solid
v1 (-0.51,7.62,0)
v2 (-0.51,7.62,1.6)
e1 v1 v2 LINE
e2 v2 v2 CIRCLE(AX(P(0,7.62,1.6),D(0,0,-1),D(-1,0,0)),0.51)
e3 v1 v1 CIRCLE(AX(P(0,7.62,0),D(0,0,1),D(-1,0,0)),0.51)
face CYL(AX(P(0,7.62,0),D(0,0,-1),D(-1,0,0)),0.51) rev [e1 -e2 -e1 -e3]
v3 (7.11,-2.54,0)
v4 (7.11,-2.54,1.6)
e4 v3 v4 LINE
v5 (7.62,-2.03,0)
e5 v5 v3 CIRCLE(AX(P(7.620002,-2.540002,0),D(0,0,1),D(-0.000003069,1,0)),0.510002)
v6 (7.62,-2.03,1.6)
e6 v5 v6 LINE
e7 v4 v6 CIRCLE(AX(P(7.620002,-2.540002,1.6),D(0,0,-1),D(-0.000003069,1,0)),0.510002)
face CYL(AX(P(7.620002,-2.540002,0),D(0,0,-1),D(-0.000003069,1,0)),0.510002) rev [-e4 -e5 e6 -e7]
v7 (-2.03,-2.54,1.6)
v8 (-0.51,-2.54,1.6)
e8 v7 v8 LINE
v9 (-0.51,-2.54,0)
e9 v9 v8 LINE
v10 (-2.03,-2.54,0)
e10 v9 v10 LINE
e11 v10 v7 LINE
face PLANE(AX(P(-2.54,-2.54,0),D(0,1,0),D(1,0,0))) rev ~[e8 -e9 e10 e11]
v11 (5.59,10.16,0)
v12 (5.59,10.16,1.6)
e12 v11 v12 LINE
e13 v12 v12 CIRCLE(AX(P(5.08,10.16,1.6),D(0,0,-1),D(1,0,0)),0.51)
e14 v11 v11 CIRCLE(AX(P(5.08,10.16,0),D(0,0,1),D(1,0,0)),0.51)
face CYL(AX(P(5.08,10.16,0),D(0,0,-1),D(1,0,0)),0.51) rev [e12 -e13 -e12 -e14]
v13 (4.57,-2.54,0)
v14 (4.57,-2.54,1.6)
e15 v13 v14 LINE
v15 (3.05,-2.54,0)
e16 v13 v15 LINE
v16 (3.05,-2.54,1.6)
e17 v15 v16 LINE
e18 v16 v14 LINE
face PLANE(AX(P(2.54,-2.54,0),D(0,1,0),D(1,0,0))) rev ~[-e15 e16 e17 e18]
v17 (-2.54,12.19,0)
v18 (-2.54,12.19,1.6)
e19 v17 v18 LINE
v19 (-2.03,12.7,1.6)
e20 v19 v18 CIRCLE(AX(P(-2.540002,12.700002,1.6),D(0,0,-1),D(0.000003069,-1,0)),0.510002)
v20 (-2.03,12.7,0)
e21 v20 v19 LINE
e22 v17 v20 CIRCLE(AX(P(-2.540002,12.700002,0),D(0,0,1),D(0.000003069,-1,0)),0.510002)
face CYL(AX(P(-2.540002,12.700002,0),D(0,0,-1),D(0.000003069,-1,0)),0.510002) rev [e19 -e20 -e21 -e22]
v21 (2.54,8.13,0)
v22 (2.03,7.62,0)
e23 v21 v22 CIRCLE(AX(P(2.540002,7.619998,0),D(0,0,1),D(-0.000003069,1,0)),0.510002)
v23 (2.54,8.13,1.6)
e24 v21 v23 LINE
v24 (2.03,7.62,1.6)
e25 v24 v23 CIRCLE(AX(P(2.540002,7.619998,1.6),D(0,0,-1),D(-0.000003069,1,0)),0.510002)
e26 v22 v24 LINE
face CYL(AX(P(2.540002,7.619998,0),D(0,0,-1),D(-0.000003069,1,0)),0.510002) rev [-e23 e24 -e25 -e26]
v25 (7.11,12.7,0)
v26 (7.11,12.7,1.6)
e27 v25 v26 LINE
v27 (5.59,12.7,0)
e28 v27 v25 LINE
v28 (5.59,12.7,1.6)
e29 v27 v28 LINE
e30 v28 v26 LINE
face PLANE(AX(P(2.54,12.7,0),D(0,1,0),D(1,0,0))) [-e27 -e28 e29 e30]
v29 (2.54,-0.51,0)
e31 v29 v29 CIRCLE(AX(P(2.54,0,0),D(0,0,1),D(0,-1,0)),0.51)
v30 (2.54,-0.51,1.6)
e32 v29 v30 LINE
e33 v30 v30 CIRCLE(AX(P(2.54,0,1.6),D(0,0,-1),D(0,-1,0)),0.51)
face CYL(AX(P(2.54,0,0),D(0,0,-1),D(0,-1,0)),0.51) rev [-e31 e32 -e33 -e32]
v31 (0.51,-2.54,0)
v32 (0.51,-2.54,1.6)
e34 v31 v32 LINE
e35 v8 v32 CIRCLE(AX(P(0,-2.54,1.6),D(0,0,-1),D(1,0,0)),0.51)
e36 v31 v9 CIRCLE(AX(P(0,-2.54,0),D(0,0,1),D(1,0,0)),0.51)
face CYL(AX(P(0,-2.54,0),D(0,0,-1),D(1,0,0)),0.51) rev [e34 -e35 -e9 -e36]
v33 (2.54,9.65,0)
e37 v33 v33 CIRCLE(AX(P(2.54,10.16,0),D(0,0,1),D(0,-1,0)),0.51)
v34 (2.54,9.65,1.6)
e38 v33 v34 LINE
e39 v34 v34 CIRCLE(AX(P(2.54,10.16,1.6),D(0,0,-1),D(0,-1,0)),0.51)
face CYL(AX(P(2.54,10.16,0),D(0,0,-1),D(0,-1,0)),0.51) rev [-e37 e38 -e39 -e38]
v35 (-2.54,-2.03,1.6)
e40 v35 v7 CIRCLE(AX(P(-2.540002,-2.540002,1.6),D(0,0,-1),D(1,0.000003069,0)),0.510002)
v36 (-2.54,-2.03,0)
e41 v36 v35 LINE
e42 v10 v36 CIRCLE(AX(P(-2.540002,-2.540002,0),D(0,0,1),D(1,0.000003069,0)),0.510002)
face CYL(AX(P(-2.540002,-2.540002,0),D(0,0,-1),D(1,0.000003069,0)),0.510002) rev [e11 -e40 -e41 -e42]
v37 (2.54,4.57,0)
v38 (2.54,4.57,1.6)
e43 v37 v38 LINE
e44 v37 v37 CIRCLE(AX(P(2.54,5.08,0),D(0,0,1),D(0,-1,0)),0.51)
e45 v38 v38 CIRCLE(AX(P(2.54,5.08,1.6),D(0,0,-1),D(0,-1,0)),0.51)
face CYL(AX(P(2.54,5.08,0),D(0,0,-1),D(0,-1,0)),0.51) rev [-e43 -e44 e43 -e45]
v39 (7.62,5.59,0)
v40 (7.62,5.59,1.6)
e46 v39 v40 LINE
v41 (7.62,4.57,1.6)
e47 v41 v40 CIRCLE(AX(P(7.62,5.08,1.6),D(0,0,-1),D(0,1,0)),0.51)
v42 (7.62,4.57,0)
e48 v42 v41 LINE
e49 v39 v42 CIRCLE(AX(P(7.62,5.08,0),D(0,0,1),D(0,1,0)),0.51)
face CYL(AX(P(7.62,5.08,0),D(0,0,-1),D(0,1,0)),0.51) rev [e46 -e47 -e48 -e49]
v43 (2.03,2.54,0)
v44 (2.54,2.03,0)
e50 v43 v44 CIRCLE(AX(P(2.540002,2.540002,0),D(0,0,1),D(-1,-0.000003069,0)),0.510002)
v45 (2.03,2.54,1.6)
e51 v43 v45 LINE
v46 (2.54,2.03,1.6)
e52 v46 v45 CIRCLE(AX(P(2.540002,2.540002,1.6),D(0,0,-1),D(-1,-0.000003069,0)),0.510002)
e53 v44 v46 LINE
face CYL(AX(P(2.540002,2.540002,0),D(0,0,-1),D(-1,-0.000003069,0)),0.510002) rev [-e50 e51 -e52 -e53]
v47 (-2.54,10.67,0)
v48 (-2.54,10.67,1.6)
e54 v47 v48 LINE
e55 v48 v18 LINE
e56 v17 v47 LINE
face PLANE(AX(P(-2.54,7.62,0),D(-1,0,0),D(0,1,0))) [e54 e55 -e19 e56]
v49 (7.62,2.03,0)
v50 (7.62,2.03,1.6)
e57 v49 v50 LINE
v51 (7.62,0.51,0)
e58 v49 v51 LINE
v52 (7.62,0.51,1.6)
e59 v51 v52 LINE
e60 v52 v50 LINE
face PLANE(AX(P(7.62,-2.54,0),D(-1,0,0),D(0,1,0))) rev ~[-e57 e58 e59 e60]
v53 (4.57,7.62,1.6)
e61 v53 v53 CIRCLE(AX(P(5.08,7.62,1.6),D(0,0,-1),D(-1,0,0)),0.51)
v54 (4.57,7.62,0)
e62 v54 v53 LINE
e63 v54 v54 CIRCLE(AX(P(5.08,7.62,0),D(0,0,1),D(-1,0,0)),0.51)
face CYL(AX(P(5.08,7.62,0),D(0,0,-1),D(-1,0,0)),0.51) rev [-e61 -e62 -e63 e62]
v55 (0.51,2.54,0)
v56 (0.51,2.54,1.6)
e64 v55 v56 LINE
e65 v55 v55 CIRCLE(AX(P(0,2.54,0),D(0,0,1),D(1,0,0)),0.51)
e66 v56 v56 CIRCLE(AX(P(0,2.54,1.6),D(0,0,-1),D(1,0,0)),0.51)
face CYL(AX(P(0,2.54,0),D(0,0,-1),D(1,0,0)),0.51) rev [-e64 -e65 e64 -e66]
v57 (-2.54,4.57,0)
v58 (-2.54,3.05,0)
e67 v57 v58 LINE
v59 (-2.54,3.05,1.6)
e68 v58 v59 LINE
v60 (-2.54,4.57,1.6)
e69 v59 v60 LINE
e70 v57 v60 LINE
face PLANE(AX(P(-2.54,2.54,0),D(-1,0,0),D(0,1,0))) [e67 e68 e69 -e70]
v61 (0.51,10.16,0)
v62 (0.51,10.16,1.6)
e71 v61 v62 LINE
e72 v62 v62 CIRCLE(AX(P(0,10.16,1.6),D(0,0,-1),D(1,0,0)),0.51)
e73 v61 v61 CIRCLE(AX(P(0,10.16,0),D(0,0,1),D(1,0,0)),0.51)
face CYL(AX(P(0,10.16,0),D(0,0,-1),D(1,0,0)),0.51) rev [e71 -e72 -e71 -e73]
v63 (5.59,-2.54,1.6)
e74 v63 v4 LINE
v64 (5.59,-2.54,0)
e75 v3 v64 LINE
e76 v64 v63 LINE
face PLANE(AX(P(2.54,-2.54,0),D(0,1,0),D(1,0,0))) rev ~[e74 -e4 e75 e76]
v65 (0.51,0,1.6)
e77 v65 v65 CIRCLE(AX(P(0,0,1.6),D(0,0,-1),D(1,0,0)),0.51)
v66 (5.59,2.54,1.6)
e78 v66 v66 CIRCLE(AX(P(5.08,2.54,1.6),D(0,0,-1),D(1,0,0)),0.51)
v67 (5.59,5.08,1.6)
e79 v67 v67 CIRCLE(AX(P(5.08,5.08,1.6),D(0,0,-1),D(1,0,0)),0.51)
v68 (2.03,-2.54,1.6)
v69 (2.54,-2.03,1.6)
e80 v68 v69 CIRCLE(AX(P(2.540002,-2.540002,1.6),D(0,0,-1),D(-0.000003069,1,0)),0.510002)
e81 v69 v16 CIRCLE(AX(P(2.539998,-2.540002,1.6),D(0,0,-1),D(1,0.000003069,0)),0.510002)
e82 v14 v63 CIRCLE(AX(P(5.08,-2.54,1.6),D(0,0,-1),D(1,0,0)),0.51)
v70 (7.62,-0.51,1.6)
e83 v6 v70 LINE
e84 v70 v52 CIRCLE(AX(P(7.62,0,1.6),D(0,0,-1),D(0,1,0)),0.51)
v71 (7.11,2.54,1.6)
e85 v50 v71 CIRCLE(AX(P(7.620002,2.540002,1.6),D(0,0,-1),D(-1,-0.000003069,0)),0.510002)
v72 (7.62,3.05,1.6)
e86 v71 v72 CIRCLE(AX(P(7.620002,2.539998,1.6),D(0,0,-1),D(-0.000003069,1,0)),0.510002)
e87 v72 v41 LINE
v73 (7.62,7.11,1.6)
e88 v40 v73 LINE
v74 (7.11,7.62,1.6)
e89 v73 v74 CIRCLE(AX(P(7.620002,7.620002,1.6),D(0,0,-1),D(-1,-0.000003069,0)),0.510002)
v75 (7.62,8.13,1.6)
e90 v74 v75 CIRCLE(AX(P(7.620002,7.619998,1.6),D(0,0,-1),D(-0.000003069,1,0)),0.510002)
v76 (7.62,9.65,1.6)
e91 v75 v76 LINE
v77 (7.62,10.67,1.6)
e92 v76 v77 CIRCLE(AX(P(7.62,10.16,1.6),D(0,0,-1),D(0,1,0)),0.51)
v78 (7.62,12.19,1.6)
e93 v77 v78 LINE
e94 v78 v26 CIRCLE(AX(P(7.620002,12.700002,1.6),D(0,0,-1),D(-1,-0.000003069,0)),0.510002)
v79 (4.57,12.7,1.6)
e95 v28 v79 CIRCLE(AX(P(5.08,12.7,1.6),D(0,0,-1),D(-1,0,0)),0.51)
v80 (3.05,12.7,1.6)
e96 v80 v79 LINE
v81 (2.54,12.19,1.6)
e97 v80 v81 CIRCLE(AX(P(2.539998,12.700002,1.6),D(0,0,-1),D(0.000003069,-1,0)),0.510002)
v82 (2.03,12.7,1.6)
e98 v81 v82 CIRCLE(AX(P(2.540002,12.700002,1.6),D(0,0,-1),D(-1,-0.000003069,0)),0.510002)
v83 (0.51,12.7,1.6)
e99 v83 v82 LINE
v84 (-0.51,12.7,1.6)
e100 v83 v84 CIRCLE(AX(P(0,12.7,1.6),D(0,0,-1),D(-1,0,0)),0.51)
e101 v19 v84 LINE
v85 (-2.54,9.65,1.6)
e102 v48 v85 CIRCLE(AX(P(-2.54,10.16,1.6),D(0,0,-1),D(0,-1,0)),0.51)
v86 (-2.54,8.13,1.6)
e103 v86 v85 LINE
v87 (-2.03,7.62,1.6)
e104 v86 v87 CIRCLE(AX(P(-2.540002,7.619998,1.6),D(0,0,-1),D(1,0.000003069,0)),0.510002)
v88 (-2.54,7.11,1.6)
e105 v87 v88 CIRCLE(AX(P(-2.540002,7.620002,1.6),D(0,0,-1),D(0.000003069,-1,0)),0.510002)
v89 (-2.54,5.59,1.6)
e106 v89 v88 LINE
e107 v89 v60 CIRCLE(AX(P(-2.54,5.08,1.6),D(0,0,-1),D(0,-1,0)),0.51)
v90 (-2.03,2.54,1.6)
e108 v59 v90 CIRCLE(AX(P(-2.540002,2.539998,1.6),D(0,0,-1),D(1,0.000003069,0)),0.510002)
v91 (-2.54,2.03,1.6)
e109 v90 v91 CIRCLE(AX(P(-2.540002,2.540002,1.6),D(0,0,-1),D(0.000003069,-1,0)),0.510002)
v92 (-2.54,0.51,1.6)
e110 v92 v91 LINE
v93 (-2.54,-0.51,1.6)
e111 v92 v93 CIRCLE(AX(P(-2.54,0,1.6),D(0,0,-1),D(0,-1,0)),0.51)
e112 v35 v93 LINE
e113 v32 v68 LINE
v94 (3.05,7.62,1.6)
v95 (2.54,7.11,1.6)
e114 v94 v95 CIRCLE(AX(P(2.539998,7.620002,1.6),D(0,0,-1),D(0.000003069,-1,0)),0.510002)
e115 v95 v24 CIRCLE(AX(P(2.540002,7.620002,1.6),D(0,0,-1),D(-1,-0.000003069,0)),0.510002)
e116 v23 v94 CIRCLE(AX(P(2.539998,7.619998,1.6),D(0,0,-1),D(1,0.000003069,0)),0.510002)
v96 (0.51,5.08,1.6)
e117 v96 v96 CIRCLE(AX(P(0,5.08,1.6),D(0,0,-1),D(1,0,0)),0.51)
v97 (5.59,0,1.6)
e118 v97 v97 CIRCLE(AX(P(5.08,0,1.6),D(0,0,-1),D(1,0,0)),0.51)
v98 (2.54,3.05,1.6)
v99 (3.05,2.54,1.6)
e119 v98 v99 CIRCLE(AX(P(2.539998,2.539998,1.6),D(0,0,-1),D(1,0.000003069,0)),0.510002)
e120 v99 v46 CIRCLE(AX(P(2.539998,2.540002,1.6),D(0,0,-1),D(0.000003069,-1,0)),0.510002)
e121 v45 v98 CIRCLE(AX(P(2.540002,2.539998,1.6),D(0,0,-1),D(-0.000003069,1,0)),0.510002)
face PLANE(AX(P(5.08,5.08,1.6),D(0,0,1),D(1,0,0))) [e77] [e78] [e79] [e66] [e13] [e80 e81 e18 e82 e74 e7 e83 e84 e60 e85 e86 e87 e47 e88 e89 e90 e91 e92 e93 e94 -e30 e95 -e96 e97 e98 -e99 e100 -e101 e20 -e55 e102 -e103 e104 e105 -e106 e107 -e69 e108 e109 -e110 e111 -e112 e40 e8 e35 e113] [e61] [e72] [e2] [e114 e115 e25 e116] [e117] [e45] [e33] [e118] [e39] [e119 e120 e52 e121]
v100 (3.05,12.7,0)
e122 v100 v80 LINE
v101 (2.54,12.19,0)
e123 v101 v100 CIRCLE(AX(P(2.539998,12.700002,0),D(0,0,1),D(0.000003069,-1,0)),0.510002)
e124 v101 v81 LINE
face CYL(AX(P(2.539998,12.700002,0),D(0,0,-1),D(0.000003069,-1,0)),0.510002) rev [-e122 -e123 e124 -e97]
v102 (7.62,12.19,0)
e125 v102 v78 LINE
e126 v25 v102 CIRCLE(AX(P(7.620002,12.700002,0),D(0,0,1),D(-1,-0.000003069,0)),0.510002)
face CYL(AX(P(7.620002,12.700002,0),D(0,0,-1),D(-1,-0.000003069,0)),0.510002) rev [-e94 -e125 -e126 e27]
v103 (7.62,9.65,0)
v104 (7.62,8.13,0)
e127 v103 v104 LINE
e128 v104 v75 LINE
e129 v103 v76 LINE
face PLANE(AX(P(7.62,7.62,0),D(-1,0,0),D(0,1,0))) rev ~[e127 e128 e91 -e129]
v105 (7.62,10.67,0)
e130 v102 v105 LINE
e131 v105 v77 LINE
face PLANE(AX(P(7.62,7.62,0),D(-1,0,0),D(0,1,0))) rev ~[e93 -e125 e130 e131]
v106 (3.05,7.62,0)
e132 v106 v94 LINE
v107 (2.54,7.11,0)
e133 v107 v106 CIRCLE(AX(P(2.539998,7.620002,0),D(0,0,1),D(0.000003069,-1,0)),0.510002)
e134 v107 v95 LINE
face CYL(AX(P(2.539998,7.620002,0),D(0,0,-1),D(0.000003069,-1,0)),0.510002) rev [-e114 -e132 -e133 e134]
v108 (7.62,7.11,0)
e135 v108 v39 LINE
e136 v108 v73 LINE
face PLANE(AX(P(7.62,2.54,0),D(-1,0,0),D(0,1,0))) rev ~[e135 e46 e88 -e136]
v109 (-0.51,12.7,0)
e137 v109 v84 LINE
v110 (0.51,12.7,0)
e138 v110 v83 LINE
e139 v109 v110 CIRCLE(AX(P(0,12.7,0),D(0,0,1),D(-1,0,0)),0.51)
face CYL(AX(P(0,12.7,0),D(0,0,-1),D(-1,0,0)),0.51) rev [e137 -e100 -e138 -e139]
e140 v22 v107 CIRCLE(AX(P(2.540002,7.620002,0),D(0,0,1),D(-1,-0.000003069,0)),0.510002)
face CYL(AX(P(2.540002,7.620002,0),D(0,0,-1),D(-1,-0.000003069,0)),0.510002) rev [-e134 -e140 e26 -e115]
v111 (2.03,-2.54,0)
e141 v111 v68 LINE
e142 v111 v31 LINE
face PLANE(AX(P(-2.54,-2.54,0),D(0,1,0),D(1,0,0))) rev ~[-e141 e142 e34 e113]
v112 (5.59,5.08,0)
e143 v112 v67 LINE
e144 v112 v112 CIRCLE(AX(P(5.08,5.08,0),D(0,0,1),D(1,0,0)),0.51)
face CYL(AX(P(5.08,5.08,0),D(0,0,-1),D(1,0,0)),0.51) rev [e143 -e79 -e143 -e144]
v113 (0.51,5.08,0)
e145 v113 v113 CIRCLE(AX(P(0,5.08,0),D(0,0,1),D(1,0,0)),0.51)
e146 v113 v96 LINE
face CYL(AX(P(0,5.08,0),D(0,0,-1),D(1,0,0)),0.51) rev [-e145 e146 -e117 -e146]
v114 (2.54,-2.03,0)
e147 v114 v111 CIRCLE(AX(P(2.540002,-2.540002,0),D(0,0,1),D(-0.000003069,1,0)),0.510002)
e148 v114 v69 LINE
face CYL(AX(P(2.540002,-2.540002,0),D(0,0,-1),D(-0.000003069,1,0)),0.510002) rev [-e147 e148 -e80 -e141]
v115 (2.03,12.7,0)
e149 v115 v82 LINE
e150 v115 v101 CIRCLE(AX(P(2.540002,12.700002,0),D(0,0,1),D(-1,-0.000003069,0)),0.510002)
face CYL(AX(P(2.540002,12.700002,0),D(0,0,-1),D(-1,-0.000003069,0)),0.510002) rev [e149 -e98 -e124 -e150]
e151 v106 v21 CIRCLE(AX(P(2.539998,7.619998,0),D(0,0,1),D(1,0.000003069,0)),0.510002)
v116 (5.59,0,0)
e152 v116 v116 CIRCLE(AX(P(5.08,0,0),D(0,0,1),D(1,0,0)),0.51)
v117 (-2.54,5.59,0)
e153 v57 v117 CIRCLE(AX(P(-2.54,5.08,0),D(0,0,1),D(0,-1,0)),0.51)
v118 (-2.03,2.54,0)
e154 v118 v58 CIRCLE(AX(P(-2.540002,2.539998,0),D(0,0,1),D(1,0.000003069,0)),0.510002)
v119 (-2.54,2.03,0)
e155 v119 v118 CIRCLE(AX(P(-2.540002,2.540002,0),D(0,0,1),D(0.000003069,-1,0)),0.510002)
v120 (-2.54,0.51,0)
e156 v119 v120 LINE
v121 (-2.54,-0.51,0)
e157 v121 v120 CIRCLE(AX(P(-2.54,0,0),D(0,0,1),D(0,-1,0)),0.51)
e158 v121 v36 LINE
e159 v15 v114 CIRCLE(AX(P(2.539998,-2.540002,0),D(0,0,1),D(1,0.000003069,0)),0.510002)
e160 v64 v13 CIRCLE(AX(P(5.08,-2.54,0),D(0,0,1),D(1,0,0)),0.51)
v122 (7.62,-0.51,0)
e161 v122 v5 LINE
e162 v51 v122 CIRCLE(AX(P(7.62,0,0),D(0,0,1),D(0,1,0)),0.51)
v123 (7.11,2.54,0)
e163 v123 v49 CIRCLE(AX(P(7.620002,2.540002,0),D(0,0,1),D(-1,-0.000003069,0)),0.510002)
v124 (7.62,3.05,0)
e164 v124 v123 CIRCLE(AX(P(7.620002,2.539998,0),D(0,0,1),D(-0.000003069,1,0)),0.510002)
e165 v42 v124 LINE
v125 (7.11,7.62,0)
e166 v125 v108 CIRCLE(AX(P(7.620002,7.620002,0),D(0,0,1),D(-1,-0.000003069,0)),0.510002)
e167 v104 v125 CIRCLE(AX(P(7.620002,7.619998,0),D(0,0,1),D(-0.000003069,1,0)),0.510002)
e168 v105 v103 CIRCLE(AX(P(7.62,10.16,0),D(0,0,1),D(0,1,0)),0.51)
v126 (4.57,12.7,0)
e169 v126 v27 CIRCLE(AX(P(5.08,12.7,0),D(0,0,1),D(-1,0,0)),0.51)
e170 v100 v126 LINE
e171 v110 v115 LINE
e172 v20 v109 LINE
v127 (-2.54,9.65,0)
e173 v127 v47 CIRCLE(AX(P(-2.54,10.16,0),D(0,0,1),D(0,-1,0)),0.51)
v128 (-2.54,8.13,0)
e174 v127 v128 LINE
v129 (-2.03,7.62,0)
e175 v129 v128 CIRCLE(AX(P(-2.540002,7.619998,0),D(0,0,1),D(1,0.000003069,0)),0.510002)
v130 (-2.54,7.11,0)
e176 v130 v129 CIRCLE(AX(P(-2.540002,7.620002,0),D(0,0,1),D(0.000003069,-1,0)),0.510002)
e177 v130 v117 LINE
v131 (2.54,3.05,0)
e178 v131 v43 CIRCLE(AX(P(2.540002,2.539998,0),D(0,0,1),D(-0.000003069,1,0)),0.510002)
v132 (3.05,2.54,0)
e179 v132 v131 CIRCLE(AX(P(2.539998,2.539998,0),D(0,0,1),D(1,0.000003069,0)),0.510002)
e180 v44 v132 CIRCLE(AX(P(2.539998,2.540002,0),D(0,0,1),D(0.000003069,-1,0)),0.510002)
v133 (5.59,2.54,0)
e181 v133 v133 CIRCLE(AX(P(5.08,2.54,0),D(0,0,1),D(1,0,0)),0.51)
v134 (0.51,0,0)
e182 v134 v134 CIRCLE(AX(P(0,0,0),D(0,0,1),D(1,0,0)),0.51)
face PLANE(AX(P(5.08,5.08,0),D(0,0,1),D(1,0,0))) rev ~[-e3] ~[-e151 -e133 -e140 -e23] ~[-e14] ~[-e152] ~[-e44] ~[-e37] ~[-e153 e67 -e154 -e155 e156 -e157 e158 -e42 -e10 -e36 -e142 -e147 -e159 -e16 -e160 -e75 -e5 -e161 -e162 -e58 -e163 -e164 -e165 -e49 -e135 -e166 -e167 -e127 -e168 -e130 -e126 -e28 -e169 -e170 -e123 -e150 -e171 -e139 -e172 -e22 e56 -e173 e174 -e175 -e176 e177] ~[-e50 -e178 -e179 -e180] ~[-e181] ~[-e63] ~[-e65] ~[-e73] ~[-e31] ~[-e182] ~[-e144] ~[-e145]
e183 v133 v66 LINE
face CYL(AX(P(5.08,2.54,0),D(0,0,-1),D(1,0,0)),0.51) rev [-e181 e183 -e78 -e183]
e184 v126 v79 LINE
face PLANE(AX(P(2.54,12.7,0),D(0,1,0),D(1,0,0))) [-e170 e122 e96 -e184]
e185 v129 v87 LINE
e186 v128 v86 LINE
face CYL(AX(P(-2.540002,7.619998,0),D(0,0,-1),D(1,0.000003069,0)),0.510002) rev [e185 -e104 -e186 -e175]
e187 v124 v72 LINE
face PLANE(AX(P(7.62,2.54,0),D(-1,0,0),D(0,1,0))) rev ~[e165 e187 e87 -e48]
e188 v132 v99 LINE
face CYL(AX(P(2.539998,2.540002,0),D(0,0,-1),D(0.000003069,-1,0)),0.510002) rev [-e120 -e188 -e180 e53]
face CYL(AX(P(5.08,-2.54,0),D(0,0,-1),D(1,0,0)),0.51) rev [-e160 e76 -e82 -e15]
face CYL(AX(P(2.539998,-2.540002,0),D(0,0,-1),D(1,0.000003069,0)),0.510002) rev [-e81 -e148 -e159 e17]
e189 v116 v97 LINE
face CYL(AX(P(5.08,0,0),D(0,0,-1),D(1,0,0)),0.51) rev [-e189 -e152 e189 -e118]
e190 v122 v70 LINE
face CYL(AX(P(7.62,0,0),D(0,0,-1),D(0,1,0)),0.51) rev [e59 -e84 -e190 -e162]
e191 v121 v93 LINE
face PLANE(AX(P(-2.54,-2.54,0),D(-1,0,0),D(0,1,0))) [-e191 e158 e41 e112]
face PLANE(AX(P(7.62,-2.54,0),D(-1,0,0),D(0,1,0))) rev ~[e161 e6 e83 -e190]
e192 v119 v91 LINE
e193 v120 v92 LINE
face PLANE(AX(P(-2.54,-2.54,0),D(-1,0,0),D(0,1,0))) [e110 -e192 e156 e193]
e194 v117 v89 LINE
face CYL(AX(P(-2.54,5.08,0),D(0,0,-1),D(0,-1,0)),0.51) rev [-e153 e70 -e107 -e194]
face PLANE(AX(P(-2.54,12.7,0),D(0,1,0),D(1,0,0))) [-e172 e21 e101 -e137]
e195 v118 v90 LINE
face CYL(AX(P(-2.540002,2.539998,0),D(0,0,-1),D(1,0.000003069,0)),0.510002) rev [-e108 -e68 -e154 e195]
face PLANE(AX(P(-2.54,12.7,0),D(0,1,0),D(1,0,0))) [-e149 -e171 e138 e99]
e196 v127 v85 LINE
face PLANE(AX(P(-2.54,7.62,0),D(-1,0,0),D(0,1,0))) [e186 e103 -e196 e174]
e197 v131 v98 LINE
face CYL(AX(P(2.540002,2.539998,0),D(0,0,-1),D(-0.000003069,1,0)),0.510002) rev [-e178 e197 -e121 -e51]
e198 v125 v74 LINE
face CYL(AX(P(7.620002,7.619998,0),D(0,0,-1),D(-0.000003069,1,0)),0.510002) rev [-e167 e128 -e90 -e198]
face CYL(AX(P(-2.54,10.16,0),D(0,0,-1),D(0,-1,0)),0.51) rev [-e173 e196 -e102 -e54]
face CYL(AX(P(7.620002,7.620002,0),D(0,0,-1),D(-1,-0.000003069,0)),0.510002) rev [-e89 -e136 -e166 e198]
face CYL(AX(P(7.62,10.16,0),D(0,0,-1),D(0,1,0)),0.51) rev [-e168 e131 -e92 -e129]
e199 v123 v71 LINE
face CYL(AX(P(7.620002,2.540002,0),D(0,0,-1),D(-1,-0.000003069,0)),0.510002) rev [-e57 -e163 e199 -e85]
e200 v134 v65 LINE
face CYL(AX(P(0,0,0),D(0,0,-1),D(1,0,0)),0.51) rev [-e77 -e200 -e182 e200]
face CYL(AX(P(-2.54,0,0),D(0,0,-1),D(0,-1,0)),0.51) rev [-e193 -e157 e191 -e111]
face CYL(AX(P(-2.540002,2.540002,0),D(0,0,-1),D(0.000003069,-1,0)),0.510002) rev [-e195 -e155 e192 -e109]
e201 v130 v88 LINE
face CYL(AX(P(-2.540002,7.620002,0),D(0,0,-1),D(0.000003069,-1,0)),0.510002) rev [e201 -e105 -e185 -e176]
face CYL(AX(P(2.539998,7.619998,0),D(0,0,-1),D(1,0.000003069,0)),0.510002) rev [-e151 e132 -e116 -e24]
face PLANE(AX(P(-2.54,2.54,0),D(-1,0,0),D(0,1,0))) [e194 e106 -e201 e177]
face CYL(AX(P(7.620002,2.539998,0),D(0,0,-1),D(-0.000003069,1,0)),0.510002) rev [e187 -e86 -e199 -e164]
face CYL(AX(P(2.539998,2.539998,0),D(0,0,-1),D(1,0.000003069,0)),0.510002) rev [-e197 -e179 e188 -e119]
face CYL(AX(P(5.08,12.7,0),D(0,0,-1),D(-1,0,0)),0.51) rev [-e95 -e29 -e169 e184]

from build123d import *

# Parameters (mm, degrees)
SKETCH_W             = 5.08
SKETCH_H             = 5.08
PAD_DEPTH            = 1.6
SKETCH001_R          = 0.51
POCKET_DEPTH         = 0.001
POCKET_DEPTH_BACK    = 1.601
POCKET001_DEPTH      = 1.601
POCKET001_DEPTH_BACK = 0.001
POCKET002_DEPTH      = 0.001
POCKET002_DEPTH_BACK = 1.601
ARRAY_X_COUNT        = 2
ARRAY_X_PITCH        = 5.08
ARRAY_Y_COUNT        = 3
ARRAY_Y_PITCH        = 5.08


with BuildPart() as part:
    # Sketch → Pad (new body)
    with BuildSketch(Plane.XY):
        Rectangle(SKETCH_W, SKETCH_H)
    extrude(amount=PAD_DEPTH)

    # Sketch001 → Pocket (cut, two sides)
    with BuildSketch(Plane.XY) as pocket_sk:
        Circle(SKETCH001_R)
    extrude(amount=-POCKET_DEPTH, mode=Mode.SUBTRACT)
    extrude(pocket_sk.sketch, amount=POCKET_DEPTH_BACK, mode=Mode.SUBTRACT)

    # Sketch002 → Pocket001 (cut, two sides)
    with BuildSketch(Plane.XY) as pocket001_sk:
        with BuildLine():
            ThreePointArc((-2.54, 2.03), (-2.179376, 2.179376), (-2.03, 2.54))
            Line((-2.54, 2.54), (-2.03, 2.54))
            Line((-2.54, 2.03), (-2.54, 2.54))
        make_face()
        with BuildLine():
            ThreePointArc((2.03, 2.54), (2.179376, 2.179376), (2.54, 2.03))
            Line((2.54, 2.54), (2.54, 2.03))
            Line((2.03, 2.54), (2.54, 2.54))
        make_face()
        with BuildLine():
            ThreePointArc((2.54, -2.03), (2.179376, -2.179376), (2.03, -2.54))
            Line((2.54, -2.54), (2.03, -2.54))
            Line((2.54, -2.03), (2.54, -2.54))
        make_face()
        with BuildLine():
            ThreePointArc((-2.03, -2.54), (-2.179376, -2.179376), (-2.54, -2.03))
            Line((-2.54, -2.54), (-2.54, -2.03))
            Line((-2.03, -2.54), (-2.54, -2.54))
        make_face()
    extrude(amount=POCKET001_DEPTH, mode=Mode.SUBTRACT)
    extrude(pocket001_sk.sketch, amount=-POCKET001_DEPTH_BACK, mode=Mode.SUBTRACT)

    # Sketch003 → Pocket002 (cut, two sides)
    with BuildSketch(Plane.XY) as pocket002_sk:
        with BuildLine():
            ThreePointArc((-0.51, 2.54), (0, 2.03), (0.51, 2.54))
            Line((0, 2.54), (0.51, 2.54))
            Line((-0.51, 2.54), (0, 2.54))
        make_face()
        with BuildLine():
            ThreePointArc((2.54, 0.51), (2.03, 0), (2.54, -0.51))
            Line((2.54, 0), (2.54, -0.51))
            Line((2.54, 0.51), (2.54, 0))
        make_face()
        with BuildLine():
            ThreePointArc((0.51, -2.54), (0, -2.03), (-0.51, -2.54))
            Line((0, -2.54), (-0.51, -2.54))
            Line((0.51, -2.54), (0, -2.54))
        make_face()
        with BuildLine():
            ThreePointArc((-2.54, -0.51), (-2.03, 0), (-2.54, 0.51))
            Line((-2.54, 0), (-2.54, 0.51))
            Line((-2.54, -0.51), (-2.54, 0))
        make_face()
    extrude(amount=-POCKET002_DEPTH, mode=Mode.SUBTRACT)
    extrude(pocket002_sk.sketch, amount=POCKET002_DEPTH_BACK, mode=Mode.SUBTRACT)

    # Array X: part ×2


with BuildPart() as part_1:
    add(part.part)
    with Locations(*[(i * ARRAY_X_PITCH, 0, 0) for i in range(1, ARRAY_X_COUNT)]):
        add(part.part)

    # Array Y: part ×3


with BuildPart() as part_2:
    add(part_1.part)
    with Locations(*[(0, i * ARRAY_Y_PITCH, 0) for i in range(1, ARRAY_Y_COUNT)]):
        add(part_1.part)


solid = part_2.part
